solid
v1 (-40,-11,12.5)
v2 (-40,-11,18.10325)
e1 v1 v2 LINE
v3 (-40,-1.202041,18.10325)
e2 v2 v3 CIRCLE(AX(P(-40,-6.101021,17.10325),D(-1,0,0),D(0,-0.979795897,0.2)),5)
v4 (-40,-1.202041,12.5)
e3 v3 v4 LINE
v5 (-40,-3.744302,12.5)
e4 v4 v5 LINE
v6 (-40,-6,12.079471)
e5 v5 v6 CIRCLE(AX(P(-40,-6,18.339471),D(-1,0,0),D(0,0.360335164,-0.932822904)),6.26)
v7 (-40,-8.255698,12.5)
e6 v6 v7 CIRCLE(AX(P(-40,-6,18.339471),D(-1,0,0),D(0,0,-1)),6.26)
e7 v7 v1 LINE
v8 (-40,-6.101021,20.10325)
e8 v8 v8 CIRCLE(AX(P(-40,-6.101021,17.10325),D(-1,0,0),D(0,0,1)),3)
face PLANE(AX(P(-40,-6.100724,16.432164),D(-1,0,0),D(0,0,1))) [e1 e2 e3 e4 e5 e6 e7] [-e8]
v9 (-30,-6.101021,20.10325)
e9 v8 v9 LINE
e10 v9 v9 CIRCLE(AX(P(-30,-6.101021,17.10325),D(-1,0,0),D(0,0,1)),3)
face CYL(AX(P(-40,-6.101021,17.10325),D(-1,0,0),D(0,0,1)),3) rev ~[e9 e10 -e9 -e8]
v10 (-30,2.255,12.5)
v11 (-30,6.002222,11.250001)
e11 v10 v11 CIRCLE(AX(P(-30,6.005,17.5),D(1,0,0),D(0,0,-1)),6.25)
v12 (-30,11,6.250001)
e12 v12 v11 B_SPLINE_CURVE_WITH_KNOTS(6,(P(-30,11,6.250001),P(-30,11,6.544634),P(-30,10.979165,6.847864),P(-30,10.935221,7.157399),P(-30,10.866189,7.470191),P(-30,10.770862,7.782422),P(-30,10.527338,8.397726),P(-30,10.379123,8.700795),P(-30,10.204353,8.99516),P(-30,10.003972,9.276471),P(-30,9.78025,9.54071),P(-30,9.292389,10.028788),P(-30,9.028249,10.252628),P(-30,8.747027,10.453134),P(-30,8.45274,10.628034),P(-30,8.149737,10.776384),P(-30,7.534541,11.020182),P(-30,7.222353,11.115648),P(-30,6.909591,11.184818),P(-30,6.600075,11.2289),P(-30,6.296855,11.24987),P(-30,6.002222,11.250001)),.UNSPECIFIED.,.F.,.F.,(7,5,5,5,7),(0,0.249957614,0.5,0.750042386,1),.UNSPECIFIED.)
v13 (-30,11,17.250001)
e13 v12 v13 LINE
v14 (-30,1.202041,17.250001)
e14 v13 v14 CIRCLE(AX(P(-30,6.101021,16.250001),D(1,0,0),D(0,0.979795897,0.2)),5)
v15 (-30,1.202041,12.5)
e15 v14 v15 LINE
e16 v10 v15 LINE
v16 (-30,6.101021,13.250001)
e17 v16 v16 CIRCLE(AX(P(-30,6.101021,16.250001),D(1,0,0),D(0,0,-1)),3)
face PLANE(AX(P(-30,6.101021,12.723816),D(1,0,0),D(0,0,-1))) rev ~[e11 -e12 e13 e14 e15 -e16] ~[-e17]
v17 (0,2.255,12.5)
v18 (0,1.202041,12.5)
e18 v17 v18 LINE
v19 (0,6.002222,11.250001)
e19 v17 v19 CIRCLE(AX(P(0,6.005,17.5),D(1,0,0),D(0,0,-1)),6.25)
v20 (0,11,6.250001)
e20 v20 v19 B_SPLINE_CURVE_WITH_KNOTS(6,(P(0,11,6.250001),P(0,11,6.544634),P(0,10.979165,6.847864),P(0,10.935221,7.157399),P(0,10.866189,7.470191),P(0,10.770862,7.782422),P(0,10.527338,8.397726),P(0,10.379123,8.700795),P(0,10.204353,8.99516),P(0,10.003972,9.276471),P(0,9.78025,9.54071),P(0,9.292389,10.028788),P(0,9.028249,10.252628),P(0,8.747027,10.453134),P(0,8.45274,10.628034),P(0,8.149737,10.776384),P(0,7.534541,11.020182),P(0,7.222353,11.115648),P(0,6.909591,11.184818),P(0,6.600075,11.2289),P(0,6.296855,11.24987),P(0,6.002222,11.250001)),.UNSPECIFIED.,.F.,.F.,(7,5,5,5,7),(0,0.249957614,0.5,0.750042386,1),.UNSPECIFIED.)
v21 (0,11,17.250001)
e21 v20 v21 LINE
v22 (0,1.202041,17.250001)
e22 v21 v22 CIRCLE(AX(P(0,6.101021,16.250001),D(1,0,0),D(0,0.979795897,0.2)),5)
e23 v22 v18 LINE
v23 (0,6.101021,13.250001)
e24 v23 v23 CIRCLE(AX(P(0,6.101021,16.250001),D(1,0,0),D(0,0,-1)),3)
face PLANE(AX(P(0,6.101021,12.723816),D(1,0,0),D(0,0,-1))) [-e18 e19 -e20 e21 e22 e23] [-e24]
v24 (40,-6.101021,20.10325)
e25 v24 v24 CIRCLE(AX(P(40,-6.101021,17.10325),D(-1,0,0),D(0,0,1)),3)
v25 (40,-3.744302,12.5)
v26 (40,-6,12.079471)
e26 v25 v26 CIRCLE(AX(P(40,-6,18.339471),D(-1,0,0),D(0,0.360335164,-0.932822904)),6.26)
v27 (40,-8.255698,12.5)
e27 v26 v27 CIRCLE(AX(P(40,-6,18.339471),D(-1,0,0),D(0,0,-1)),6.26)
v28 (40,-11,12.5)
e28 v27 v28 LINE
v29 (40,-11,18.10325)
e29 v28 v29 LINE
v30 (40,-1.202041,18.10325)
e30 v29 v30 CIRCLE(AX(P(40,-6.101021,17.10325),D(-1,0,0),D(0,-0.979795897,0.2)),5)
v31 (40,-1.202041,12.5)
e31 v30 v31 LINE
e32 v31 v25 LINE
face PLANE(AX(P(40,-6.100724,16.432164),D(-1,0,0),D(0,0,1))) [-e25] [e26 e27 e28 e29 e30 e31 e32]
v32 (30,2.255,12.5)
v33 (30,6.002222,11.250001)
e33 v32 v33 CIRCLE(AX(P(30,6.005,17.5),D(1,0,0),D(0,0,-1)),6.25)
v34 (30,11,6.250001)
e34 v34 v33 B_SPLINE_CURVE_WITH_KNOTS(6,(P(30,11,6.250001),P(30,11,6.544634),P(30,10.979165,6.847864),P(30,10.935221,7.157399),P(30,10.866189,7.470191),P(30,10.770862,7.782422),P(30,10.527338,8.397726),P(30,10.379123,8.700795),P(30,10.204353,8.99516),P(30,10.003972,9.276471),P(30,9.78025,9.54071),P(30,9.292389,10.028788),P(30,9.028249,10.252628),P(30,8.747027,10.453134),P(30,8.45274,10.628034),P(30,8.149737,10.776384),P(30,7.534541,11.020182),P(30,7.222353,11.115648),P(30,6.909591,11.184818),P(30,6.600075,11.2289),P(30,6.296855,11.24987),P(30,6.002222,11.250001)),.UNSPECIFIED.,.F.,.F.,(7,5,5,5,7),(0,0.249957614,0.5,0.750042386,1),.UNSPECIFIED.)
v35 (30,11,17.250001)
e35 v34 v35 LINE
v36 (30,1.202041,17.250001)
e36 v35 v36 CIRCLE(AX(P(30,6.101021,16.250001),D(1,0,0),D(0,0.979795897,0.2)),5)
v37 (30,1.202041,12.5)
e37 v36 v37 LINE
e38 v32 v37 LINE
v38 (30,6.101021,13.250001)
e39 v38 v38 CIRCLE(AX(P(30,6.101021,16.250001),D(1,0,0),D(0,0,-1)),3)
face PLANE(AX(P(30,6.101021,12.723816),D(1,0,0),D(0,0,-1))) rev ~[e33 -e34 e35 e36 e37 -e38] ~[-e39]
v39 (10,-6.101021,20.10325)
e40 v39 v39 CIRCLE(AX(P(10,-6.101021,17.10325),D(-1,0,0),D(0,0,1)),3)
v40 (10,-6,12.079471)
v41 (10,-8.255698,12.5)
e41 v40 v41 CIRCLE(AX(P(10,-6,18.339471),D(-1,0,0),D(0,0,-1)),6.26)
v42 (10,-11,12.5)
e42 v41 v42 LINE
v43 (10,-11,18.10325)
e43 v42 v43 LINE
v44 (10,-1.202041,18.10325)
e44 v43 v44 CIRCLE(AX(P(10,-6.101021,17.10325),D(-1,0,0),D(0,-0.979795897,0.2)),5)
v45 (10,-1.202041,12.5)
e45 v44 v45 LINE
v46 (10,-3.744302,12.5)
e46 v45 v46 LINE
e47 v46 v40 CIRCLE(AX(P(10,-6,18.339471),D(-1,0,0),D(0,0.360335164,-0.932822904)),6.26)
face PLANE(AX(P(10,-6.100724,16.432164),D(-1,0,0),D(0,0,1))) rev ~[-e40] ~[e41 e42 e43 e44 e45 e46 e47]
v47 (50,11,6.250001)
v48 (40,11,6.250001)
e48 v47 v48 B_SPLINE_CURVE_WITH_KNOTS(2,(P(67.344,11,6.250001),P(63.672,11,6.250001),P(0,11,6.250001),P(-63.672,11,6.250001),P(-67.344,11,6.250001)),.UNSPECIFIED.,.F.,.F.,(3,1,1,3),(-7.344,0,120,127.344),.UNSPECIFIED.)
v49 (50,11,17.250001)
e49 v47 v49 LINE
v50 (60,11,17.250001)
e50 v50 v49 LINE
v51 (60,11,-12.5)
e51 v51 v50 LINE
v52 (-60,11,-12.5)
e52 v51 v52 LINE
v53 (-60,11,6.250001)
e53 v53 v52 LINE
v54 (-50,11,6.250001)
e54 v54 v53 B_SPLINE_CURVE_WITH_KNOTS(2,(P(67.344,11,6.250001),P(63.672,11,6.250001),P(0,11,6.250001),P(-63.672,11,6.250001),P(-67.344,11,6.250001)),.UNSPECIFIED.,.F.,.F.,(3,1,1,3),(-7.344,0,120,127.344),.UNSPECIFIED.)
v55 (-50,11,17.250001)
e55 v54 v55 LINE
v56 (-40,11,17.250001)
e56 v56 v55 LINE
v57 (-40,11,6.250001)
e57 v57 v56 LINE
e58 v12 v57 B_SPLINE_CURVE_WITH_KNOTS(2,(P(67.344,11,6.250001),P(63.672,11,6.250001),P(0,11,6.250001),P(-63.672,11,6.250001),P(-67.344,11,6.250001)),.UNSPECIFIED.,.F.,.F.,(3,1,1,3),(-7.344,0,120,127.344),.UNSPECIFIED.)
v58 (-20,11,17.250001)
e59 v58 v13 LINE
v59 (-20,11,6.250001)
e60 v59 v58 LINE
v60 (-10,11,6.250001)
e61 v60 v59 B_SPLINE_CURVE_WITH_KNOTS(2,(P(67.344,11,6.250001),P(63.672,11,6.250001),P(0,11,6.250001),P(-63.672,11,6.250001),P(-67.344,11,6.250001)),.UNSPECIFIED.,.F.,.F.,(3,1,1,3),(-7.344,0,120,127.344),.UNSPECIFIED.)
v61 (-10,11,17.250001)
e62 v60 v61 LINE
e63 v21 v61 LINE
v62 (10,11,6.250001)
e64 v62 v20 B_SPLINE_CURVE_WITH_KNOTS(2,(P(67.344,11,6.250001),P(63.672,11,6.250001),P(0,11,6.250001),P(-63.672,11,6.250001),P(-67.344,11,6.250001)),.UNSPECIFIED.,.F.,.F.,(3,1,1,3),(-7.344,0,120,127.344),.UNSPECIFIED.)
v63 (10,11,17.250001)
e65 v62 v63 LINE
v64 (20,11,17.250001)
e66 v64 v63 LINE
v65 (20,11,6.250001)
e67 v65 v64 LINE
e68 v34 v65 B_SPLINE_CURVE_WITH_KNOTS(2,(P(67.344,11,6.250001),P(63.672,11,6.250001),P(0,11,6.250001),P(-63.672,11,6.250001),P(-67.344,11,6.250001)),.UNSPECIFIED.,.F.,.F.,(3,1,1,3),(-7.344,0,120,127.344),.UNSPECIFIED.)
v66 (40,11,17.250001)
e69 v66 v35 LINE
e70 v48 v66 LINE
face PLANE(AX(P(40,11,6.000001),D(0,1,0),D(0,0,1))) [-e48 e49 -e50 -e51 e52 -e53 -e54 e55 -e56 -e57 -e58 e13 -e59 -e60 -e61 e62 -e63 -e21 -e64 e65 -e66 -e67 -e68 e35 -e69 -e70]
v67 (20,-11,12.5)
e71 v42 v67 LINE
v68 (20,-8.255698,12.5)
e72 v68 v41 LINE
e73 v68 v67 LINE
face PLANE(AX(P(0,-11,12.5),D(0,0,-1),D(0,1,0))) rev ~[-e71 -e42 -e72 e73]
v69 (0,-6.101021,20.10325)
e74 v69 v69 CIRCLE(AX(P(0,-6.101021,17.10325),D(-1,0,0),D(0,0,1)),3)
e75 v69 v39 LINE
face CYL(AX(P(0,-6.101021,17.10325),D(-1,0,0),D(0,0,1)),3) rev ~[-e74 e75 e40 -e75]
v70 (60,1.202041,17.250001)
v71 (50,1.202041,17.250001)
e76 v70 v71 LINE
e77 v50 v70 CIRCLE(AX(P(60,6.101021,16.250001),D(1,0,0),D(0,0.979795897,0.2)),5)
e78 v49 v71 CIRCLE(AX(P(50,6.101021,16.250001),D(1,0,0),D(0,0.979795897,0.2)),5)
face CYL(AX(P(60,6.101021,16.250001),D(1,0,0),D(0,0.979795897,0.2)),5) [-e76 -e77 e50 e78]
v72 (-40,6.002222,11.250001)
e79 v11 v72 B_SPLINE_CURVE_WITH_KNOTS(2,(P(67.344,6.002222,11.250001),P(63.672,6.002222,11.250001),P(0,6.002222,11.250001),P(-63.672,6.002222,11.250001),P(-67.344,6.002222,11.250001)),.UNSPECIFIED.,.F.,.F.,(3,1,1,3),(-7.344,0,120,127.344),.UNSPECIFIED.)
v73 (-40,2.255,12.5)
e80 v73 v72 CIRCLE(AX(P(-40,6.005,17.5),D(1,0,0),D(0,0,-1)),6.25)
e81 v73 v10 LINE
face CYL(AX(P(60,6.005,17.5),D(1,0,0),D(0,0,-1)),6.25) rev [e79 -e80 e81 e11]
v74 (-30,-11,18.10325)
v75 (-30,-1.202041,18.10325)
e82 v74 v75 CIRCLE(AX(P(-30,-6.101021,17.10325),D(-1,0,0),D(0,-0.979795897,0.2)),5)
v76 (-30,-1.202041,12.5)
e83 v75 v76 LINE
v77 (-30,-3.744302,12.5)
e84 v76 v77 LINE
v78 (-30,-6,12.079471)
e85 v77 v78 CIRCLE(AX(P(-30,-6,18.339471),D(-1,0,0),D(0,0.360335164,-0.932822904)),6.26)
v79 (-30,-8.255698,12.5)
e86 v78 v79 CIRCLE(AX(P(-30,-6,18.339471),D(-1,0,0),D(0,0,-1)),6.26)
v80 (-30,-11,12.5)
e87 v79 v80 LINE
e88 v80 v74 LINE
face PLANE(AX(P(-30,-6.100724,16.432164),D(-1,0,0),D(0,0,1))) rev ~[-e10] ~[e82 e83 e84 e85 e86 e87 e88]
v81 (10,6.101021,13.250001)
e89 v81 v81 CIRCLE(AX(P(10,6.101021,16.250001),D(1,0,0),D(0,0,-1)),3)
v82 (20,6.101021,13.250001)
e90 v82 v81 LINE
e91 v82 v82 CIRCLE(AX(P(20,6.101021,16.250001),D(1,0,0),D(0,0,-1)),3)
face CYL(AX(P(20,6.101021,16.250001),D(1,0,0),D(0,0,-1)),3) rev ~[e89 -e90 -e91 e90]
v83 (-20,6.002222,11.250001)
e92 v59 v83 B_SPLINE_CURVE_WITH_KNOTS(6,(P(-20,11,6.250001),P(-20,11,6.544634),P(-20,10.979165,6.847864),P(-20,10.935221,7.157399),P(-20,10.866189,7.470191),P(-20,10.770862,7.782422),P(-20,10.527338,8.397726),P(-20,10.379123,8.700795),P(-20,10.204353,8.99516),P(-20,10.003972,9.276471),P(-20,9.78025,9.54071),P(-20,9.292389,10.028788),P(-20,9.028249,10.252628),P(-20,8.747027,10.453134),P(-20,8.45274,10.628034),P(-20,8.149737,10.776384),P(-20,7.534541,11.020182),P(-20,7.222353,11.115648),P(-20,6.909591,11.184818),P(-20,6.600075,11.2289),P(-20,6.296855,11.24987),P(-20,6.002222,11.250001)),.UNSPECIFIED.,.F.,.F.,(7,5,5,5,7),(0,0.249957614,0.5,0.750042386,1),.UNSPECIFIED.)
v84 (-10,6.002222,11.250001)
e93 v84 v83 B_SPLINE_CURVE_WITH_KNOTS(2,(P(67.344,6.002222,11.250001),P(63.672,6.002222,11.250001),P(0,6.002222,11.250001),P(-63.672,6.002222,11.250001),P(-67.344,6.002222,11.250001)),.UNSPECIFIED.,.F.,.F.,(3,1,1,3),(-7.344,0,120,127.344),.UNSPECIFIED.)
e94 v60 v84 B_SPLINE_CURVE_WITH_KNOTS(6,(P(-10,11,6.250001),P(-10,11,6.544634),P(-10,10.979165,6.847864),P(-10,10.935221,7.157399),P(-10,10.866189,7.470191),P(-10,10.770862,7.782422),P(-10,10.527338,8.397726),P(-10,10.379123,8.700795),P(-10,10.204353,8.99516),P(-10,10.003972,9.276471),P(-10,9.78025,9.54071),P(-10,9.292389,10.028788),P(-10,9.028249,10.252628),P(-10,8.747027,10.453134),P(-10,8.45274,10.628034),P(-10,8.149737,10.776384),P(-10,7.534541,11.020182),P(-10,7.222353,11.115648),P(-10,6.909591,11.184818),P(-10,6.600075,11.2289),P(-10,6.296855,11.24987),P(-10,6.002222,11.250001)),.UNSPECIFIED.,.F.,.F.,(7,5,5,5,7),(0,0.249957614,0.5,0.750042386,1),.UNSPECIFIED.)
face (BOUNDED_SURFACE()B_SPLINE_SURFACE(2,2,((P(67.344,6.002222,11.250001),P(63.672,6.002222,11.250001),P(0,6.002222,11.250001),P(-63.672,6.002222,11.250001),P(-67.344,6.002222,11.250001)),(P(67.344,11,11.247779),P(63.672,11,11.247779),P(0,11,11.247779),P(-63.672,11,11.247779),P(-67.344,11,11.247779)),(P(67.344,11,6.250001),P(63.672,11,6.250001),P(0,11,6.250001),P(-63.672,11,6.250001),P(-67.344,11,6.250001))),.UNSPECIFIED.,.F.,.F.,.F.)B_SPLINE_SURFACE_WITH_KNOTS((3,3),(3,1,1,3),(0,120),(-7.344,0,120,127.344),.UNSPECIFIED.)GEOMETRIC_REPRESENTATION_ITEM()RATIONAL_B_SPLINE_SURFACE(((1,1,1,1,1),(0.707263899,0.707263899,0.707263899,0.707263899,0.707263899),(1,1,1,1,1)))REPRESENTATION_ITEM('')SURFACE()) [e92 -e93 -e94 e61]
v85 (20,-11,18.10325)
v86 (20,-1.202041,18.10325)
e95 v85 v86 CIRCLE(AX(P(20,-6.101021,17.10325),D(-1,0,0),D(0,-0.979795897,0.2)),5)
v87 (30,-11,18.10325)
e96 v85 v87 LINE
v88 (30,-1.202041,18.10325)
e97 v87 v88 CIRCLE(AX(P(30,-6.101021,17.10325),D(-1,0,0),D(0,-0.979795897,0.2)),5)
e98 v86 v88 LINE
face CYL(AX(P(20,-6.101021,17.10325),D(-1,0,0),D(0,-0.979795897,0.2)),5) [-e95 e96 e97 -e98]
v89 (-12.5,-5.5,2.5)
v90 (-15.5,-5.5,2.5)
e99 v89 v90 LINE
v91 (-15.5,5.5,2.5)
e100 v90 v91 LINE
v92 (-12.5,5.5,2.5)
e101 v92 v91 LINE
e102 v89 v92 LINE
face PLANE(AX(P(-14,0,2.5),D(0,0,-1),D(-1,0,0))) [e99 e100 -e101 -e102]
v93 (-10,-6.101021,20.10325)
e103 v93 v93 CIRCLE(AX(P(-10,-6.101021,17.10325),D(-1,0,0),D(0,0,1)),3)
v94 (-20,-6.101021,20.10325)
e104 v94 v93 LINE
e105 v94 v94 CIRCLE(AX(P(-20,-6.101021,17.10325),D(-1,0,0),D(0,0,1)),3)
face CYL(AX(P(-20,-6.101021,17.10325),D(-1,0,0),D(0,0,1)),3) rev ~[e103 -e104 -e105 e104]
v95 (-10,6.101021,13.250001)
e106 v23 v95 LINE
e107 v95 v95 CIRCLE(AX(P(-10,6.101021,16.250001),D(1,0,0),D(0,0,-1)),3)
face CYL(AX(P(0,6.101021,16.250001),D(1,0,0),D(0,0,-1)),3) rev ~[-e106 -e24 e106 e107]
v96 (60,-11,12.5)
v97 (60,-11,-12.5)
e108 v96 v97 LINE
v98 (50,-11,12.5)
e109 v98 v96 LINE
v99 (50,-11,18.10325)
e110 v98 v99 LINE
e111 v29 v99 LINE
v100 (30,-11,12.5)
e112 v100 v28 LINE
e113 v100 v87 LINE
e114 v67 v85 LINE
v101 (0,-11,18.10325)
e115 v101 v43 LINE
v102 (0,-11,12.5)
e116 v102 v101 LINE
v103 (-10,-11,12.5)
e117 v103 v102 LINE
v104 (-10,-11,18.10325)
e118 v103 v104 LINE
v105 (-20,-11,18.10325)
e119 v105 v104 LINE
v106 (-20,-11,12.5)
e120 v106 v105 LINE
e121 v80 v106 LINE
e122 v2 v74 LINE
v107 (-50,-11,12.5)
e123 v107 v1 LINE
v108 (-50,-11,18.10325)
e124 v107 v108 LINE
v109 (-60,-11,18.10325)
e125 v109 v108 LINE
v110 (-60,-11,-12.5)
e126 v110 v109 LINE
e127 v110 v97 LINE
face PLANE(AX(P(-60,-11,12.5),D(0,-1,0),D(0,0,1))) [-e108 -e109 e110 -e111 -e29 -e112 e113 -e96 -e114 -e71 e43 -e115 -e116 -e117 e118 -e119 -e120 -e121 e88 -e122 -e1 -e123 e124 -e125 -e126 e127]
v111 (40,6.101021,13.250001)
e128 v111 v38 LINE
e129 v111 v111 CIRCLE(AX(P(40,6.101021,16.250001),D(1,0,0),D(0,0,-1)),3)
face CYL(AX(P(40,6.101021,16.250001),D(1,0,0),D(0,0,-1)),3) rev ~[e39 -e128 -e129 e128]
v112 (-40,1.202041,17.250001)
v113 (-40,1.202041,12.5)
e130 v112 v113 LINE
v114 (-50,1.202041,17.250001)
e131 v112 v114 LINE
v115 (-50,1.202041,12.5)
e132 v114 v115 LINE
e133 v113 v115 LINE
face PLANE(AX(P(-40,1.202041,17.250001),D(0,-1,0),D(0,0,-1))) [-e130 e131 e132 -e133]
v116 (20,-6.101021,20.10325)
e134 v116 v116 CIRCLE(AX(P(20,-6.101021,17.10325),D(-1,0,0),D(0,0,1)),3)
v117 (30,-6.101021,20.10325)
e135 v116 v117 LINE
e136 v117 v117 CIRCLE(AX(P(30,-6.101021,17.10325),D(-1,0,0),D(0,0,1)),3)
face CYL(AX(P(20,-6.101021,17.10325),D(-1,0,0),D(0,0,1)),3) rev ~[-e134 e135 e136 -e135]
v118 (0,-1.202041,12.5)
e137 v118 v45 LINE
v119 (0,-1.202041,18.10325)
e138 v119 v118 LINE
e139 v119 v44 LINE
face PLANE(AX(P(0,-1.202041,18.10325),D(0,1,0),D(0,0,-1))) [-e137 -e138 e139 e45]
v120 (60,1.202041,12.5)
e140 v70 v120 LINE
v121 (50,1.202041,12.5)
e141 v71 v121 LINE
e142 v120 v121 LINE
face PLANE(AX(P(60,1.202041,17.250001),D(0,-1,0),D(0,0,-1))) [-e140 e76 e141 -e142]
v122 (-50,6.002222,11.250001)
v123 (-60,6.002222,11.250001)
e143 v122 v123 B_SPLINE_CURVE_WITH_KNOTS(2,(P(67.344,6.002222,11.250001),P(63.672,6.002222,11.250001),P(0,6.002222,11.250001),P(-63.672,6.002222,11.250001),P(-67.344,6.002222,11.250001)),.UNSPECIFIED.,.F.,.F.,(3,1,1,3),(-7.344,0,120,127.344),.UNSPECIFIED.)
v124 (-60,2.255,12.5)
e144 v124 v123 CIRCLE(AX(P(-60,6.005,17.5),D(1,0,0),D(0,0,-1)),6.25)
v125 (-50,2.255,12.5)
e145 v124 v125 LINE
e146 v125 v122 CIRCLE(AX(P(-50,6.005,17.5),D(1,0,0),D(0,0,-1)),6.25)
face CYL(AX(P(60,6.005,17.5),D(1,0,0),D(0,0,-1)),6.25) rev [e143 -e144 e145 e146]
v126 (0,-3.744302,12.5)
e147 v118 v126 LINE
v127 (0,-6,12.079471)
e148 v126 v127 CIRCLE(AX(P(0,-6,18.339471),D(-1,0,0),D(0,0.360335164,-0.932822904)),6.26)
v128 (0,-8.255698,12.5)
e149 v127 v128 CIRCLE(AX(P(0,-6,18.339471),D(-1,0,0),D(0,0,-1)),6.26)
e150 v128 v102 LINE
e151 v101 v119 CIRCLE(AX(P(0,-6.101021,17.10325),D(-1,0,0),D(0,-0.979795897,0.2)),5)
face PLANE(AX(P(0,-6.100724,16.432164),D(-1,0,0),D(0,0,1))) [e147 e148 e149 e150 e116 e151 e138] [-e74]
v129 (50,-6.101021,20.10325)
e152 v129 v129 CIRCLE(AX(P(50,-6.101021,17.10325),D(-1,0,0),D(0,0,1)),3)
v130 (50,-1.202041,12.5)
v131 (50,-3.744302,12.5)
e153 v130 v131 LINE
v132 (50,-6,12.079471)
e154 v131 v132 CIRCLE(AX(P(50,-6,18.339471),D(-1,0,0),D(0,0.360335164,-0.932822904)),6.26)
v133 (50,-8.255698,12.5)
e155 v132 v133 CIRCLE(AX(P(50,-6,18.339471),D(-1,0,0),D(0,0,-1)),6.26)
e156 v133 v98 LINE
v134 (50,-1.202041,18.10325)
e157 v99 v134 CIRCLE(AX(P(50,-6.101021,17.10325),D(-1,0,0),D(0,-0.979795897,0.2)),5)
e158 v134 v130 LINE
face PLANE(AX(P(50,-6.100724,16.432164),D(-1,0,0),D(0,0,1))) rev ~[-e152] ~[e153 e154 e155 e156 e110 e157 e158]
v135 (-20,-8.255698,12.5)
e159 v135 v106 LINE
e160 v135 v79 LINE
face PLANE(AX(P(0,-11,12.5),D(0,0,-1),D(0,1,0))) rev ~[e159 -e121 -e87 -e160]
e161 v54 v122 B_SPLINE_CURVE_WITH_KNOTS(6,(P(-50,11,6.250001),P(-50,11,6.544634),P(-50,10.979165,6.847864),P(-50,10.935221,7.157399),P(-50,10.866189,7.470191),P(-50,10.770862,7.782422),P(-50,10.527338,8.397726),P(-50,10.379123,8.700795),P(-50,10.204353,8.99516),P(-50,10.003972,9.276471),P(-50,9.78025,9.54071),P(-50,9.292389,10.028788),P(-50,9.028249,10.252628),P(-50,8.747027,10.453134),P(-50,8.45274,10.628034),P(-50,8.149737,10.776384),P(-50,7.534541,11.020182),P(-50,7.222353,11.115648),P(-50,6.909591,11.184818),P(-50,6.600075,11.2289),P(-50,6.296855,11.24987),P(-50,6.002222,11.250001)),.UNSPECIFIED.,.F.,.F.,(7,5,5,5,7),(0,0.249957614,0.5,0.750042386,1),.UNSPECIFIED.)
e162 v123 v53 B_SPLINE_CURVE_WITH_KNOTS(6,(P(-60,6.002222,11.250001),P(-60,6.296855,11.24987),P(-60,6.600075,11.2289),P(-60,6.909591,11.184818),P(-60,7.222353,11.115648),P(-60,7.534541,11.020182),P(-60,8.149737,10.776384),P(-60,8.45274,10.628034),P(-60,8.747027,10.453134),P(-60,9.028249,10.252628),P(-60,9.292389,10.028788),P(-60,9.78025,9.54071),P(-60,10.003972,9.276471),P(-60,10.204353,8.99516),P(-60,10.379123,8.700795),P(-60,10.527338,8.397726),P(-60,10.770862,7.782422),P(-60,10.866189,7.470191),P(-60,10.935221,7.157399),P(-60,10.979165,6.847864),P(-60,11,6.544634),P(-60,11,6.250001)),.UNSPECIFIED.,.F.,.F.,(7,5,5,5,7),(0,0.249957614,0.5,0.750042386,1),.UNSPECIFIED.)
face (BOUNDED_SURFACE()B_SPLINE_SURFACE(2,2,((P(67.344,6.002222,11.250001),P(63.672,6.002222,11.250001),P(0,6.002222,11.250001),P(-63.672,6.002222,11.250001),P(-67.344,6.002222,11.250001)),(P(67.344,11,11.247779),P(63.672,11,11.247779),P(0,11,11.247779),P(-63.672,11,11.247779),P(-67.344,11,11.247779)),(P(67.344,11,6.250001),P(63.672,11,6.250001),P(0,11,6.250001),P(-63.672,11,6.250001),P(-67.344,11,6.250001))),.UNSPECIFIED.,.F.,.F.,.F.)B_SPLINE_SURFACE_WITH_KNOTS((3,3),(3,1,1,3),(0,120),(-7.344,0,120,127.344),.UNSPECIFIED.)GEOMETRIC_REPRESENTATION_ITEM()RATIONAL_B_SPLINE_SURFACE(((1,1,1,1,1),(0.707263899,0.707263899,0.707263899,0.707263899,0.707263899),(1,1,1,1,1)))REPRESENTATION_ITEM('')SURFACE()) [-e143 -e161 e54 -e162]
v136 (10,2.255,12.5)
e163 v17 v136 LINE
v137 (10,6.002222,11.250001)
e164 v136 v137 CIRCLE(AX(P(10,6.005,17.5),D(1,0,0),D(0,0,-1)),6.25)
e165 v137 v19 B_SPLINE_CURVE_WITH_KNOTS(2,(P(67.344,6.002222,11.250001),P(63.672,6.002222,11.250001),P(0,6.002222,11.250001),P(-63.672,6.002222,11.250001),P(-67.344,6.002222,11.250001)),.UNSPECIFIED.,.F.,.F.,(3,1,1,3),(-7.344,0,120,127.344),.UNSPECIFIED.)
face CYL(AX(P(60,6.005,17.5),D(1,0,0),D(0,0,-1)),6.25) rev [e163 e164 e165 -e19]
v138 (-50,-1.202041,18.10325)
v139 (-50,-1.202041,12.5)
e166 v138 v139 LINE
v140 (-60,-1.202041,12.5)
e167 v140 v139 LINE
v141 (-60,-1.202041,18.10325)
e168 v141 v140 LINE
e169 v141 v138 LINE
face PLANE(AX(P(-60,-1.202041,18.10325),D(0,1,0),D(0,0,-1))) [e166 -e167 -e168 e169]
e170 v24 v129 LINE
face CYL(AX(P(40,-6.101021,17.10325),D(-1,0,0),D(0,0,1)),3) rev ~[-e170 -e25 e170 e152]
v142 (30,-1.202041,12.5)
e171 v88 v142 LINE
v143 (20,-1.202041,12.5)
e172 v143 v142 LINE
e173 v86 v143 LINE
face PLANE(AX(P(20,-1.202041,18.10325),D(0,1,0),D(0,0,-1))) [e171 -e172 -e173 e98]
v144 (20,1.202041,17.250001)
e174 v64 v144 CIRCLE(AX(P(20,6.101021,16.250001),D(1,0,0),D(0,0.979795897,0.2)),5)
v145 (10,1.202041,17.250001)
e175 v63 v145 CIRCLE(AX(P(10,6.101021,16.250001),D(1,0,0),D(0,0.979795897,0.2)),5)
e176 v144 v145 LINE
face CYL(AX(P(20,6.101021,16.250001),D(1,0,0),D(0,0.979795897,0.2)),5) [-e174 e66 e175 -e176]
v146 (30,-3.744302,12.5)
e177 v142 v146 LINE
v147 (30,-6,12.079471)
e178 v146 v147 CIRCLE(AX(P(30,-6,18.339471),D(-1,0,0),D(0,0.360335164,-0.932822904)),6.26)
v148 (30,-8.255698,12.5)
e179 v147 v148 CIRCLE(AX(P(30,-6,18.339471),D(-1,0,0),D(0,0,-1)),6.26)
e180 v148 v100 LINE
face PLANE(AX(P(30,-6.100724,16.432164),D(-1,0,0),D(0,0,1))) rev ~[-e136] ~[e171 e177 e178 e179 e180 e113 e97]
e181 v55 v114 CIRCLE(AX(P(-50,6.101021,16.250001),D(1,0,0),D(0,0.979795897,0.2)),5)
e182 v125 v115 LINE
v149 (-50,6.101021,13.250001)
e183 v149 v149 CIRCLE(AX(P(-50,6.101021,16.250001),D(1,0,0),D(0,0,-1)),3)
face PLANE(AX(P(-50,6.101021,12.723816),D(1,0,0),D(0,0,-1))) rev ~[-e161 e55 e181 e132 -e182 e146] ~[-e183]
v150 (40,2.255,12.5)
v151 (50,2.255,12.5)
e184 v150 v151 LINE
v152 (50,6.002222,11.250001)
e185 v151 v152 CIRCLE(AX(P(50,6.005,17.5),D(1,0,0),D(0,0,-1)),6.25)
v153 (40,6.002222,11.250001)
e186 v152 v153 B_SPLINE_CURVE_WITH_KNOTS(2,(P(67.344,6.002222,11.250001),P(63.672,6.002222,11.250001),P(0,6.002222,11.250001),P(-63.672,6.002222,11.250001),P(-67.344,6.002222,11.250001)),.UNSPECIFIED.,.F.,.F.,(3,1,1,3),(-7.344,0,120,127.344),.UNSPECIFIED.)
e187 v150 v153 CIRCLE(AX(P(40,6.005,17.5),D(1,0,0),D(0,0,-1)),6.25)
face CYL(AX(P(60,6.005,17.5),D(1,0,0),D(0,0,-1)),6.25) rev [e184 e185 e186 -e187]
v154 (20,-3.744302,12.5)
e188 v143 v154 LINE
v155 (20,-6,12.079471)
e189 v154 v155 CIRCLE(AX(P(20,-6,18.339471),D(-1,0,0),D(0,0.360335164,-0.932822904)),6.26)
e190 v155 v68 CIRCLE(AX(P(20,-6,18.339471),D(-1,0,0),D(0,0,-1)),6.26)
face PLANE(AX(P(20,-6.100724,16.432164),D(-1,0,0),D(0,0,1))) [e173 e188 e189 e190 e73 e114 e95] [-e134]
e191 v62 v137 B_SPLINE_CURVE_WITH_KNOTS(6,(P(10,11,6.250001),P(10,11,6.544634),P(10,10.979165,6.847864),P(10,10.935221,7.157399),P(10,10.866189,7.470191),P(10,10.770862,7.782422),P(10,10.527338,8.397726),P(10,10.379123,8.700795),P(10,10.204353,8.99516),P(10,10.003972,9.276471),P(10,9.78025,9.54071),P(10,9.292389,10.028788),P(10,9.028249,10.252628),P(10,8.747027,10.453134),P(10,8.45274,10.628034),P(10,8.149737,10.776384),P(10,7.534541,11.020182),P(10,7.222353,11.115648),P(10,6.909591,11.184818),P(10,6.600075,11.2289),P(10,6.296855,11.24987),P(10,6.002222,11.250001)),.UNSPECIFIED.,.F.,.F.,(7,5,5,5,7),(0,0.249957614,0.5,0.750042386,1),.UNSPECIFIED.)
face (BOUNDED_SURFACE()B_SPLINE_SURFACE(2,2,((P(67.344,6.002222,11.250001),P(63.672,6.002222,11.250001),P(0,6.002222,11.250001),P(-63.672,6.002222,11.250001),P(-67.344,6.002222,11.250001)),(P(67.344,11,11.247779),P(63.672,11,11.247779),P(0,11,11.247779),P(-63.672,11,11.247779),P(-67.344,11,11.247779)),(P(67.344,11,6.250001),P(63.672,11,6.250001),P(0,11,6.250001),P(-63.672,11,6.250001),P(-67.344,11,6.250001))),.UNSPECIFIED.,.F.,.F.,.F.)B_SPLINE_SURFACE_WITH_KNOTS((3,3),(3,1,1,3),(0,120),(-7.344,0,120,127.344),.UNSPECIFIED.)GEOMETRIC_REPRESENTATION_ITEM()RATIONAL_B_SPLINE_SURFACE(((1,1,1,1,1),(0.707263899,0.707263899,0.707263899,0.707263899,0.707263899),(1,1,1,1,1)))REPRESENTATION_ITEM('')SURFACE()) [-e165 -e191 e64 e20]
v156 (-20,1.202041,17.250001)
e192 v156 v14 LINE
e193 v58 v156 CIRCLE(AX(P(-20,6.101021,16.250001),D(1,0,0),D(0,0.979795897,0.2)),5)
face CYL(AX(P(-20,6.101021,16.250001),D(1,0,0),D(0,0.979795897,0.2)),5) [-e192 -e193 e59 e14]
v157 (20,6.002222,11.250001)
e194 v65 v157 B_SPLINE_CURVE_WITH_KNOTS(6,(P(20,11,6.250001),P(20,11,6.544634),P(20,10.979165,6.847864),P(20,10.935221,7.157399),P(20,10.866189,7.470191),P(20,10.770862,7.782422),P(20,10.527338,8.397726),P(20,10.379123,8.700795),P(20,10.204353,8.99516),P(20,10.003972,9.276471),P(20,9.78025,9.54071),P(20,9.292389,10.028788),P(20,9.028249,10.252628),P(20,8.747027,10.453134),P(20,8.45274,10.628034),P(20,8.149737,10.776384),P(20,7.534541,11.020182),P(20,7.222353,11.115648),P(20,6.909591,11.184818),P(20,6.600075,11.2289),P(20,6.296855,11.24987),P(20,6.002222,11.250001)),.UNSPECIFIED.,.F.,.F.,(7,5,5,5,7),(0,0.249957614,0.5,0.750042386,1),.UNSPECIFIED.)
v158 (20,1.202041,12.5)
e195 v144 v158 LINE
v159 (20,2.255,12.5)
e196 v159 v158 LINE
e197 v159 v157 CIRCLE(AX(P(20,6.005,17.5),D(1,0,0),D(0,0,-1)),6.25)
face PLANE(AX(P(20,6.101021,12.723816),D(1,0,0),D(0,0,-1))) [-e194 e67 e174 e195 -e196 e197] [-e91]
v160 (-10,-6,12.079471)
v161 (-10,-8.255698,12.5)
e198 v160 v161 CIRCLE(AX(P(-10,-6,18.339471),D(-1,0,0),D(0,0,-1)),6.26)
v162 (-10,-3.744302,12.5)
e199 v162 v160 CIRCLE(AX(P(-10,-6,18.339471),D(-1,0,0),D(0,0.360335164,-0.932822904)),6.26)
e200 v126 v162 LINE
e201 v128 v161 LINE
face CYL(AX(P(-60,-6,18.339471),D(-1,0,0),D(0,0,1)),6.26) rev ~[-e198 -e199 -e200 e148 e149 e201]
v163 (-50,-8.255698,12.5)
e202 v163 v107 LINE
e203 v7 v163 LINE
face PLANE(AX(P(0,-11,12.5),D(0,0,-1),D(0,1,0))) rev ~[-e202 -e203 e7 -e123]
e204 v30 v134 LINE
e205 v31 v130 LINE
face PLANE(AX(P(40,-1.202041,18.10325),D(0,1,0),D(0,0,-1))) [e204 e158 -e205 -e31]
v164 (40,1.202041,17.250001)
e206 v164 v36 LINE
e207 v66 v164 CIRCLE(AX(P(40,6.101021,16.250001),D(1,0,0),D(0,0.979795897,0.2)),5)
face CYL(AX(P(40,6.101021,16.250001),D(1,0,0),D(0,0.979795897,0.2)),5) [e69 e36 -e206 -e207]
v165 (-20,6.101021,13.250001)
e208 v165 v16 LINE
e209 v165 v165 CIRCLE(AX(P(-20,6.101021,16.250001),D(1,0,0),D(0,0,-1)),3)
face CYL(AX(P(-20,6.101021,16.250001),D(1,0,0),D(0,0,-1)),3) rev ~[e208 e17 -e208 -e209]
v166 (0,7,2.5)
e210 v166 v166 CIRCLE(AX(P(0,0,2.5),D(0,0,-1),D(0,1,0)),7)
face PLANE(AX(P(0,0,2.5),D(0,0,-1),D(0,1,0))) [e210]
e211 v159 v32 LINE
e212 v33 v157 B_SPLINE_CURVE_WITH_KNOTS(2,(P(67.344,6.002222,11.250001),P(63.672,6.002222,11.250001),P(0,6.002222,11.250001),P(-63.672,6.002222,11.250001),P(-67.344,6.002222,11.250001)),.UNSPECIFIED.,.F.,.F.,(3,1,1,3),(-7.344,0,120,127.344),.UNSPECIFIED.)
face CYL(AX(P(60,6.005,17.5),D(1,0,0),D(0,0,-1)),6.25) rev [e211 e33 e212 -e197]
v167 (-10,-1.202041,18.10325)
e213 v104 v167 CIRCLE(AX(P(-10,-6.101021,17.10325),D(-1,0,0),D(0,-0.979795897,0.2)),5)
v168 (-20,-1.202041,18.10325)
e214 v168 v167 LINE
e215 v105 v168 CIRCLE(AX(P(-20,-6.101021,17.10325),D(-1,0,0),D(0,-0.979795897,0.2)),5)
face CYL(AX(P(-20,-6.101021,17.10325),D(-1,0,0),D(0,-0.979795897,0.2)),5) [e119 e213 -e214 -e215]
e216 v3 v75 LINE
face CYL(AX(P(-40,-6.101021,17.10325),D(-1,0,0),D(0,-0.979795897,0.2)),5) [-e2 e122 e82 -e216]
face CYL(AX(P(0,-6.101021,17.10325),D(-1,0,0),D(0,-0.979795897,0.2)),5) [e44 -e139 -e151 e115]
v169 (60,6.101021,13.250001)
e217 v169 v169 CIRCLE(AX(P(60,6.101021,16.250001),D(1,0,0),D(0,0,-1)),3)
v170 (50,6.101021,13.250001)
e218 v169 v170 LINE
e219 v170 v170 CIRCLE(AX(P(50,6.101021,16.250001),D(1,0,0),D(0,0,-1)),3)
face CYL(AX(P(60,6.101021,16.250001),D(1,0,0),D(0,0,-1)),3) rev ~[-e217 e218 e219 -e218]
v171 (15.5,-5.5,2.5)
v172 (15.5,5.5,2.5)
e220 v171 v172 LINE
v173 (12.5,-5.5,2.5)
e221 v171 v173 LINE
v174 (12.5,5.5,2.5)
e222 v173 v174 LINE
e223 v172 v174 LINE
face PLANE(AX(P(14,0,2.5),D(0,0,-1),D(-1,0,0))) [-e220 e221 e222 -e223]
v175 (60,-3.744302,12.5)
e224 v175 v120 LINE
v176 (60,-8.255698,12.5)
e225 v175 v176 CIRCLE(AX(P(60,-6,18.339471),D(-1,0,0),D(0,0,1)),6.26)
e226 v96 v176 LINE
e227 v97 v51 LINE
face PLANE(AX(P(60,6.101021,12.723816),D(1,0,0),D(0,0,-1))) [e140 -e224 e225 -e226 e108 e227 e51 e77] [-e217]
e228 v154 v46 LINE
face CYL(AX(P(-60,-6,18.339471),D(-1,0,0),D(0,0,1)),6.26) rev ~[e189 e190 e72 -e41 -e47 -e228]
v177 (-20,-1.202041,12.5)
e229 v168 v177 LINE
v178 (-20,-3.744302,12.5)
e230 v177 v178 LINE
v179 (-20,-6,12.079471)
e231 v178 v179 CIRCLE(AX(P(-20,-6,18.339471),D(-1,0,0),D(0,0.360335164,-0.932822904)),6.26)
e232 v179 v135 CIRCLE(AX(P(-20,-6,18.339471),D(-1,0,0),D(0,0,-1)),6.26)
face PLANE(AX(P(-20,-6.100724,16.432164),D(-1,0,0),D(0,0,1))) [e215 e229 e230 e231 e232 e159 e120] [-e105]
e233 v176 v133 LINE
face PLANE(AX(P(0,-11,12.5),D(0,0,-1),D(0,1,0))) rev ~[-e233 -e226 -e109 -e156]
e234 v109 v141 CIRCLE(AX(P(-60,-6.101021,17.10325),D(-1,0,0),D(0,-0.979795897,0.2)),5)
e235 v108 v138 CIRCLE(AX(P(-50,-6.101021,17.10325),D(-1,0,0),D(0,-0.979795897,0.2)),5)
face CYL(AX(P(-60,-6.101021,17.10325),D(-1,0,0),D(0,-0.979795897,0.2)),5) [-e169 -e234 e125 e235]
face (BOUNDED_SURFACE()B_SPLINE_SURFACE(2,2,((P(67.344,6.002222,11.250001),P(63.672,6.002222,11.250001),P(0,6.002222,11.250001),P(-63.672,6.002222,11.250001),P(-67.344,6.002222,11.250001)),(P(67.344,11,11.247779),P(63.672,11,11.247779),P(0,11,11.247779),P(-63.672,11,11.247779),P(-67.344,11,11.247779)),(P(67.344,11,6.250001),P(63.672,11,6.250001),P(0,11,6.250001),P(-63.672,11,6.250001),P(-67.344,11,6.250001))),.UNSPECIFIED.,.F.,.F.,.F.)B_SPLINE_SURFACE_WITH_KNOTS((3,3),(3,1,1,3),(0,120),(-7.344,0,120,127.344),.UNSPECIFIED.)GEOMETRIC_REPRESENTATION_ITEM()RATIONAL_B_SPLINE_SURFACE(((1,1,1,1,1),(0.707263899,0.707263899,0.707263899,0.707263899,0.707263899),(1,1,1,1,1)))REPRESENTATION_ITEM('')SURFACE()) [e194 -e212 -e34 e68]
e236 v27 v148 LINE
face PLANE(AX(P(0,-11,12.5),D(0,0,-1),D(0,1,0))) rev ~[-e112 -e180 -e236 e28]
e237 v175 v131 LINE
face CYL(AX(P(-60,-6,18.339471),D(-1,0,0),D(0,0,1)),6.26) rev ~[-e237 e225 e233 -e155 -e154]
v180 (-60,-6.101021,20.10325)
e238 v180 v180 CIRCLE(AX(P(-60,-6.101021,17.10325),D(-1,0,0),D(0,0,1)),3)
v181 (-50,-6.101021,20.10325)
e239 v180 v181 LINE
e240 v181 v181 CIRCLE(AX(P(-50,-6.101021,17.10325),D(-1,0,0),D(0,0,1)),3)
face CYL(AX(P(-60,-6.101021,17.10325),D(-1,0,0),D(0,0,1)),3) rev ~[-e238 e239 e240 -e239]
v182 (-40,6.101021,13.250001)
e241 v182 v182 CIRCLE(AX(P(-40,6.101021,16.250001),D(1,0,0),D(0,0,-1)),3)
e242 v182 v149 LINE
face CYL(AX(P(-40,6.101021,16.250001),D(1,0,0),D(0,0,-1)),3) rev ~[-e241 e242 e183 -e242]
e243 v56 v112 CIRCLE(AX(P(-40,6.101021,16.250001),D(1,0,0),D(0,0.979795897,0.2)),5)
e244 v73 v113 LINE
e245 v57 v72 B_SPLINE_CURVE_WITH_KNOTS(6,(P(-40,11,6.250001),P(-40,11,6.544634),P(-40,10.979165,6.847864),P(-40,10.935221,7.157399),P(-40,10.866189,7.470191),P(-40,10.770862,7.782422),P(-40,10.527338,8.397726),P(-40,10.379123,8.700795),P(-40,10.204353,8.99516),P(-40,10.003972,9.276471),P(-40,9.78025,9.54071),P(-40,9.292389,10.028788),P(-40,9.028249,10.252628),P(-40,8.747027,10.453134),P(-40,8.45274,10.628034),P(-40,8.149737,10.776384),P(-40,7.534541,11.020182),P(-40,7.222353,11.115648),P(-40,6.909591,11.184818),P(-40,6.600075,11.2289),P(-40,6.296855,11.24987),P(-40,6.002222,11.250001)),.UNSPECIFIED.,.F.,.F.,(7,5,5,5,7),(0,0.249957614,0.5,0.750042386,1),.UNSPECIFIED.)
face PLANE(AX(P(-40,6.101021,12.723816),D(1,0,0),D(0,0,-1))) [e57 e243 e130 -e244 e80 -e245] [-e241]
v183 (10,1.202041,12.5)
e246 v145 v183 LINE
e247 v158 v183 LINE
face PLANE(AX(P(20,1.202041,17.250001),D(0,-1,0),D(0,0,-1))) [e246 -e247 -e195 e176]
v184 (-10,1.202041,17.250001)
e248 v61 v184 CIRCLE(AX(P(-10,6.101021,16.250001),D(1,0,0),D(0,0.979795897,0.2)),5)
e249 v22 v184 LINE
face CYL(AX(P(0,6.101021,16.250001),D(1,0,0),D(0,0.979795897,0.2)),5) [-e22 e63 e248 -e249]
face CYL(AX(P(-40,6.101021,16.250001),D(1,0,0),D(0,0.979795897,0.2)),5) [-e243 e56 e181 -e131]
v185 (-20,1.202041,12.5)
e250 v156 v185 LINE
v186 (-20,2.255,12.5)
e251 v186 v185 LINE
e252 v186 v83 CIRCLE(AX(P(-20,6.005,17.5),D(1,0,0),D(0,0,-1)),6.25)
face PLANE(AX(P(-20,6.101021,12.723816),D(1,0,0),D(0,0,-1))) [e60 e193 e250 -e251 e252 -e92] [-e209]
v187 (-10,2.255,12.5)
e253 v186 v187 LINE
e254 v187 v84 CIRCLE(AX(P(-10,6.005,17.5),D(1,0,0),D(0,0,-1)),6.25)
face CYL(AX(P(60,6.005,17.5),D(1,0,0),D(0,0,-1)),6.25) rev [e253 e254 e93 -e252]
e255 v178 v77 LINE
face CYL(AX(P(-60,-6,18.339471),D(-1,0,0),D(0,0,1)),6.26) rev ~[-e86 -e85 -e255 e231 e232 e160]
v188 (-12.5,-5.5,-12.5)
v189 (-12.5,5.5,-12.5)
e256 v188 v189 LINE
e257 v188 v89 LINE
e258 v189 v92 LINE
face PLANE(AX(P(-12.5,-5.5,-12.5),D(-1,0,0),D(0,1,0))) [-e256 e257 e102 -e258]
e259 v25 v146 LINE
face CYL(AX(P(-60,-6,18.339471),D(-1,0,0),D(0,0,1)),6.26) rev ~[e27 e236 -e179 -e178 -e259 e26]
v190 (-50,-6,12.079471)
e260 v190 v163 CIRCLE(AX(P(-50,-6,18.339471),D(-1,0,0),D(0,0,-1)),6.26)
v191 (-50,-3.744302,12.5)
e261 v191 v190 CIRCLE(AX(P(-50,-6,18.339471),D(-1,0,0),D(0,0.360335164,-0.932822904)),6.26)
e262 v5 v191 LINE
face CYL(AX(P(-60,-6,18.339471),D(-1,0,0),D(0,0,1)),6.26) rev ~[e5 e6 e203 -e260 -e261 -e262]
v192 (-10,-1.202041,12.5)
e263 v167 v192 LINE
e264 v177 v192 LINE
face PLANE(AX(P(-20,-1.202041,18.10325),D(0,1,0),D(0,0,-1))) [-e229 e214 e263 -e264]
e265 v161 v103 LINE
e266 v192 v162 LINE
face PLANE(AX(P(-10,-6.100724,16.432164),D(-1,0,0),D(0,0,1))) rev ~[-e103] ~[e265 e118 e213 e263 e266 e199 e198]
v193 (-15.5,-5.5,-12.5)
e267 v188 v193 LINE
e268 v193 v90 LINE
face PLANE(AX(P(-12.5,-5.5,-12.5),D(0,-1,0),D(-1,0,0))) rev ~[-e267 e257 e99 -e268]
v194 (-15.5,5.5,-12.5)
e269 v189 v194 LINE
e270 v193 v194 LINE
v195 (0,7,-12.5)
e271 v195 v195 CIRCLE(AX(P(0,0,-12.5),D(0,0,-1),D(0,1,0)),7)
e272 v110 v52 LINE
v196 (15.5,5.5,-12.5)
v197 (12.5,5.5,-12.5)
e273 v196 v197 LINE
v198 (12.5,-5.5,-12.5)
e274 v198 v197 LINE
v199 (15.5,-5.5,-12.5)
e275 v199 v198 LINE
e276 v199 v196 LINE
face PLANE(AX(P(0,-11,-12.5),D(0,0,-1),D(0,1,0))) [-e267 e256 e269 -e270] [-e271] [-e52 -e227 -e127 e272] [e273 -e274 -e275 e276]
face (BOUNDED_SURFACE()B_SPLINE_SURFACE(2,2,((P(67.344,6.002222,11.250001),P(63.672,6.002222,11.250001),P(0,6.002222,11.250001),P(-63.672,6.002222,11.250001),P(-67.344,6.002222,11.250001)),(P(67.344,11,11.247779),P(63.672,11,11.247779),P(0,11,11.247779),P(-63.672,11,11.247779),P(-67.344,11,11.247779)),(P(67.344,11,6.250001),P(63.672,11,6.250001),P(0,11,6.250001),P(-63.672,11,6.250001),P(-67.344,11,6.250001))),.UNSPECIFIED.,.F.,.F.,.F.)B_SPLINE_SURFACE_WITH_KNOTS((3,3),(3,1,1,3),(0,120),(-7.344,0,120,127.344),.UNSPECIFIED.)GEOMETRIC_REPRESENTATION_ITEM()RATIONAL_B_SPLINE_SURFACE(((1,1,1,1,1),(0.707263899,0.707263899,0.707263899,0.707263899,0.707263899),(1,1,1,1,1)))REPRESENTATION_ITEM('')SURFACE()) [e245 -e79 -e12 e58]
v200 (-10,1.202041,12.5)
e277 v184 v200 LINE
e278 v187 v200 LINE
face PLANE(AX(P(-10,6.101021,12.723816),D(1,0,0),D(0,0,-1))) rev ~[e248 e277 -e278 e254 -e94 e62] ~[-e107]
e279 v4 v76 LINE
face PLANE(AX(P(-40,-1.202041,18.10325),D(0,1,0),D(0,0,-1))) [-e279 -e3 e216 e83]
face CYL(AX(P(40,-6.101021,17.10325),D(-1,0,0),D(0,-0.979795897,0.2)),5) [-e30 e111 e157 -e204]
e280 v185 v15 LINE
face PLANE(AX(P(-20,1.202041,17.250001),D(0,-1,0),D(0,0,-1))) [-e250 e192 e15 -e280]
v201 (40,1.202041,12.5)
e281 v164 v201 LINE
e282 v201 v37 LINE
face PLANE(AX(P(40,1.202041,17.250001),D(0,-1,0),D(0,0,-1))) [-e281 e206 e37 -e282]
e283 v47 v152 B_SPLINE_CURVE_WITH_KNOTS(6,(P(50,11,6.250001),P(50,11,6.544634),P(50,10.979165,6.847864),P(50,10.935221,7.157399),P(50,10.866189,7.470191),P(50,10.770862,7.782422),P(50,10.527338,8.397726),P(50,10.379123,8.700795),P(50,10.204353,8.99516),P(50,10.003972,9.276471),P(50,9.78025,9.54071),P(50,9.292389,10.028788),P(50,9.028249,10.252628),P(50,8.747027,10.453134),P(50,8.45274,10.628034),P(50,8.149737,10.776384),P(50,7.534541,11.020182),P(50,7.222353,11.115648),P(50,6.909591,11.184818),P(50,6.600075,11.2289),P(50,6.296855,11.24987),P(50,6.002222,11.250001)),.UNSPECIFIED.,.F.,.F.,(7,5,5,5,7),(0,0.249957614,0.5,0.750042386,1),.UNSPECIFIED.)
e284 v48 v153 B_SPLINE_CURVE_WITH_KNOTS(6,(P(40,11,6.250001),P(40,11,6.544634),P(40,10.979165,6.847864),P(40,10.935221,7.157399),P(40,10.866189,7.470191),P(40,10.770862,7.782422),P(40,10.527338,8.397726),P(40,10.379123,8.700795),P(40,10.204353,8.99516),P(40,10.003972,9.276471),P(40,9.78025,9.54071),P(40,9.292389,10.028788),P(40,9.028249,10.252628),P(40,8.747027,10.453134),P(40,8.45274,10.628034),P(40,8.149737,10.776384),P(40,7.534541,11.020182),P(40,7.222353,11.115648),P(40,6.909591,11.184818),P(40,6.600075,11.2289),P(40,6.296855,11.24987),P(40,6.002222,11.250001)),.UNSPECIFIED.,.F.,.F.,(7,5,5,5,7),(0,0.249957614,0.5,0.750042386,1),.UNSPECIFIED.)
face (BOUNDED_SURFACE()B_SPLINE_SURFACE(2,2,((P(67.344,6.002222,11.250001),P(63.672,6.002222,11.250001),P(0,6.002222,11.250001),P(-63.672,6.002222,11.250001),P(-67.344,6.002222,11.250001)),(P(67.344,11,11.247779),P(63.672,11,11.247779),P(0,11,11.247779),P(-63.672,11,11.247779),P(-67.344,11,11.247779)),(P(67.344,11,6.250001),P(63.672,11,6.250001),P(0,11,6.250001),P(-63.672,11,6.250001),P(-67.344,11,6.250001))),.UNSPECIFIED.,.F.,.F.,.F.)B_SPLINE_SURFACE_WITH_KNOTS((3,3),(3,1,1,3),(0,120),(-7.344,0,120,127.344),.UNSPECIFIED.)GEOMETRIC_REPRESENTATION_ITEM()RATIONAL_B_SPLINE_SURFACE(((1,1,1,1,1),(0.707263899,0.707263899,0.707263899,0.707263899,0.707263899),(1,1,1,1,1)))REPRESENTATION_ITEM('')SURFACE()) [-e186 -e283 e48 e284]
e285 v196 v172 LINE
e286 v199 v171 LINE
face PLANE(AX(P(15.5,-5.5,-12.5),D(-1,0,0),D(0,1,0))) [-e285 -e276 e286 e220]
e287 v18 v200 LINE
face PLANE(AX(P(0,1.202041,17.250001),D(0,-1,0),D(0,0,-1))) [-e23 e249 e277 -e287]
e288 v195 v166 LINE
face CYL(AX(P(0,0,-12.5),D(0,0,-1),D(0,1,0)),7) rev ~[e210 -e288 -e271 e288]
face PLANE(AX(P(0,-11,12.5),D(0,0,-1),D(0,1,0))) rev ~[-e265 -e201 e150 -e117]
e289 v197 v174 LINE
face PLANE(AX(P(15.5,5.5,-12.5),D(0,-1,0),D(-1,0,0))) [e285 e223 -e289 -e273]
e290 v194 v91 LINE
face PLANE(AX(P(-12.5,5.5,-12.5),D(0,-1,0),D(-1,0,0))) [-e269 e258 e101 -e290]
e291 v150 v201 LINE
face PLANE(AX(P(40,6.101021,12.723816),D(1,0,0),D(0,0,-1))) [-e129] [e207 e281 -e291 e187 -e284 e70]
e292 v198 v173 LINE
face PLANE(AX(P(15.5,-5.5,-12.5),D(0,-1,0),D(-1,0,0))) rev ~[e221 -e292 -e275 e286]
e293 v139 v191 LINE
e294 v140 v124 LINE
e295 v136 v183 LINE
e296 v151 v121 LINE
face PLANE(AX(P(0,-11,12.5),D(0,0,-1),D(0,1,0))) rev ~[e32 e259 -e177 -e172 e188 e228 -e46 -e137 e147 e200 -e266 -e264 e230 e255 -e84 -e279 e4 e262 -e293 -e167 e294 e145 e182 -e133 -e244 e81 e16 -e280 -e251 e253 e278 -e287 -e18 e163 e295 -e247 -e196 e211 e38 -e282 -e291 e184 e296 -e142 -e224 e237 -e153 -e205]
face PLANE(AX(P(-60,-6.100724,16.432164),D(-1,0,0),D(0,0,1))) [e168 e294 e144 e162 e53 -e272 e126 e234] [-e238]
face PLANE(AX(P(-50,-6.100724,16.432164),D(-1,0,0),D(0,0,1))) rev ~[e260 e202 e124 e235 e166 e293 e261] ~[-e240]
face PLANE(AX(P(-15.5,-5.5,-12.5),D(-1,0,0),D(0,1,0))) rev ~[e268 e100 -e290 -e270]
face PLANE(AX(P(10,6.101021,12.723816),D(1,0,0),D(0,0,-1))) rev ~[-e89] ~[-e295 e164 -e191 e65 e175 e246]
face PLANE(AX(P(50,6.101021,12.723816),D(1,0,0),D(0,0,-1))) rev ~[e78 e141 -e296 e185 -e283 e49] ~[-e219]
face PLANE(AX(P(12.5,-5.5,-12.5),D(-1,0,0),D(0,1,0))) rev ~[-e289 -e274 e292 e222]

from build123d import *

# Parameters (mm, degrees)
SKETCH1_W           = 25
SKETCH1_H           = 22
BOSS_EXTRUDE1_DEPTH = 60
CUT_EXTRUDE2_REACH  = 123.15
CUT_EXTRUDE3_REACH  = 123.15
SKETCH6_R           = 6.26
FILLET1_R           = 5
SKETCH2_R           = 3
BOSS_EXTRUDE2_DEPTH = 10
LPATTERN1_COUNT     = 6
LPATTERN1_PITCH     = 20
SKETCH3_R           = 3
BOSS_EXTRUDE3_DEPTH = 10
LPATTERN2_COUNT     = 6
LPATTERN2_PITCH     = 20
SKETCH9_R           = 7
SKETCH9_W           = 3
SKETCH9_H           = 11
CUT_EXTRUDE5_DEPTH  = 15


with BuildPart() as part:
    # Sketch1 → Boss-Extrude1 (new, symmetric)
    with BuildSketch(Plane(origin=(0, 0, 0), x_dir=(0, 0, -1), z_dir=(1, 0, 0))):
        Rectangle(SKETCH1_W, SKETCH1_H)
    extrude(amount=BOSS_EXTRUDE1_DEPTH, both=True)

    # Sketch5 → Cut-Extrude2 (cut, up to next)
    with BuildSketch(Plane(origin=(60, 0, 0), x_dir=(0, 0, -1), z_dir=(1, 0, 0)), mode=Mode.PRIVATE) as cut_extrude2_sk1:
        with BuildLine():
            Line((-13.743342576, 11), (-11.25, 11))
            Line((-11.25, 11), (-11.25, 6.005))
            ThreePointArc((-11.25, 6.005), (-23.092030441, 3.213639122), (-13.743342576, 11))
        make_face()
    cut_extrude2_tool1 = extrude(cut_extrude2_sk1.sketch, amount=-CUT_EXTRUDE2_REACH, mode=Mode.PRIVATE) & part.part
    add(cut_extrude2_tool1.solids().sort_by_distance((60, 6.117758, 17.335764))[0], mode=Mode.SUBTRACT)

    # Sketch6 → Cut-Extrude3 (cut, up to next)
    with BuildSketch(Plane.ZY.offset(60), mode=Mode.PRIVATE) as cut_extrude3_sk1:
        with Locations((18.339471377, -6)):
            Circle(SKETCH6_R)
    cut_extrude3_tool1 = extrude(cut_extrude3_sk1.sketch, amount=-CUT_EXTRUDE3_REACH, mode=Mode.PRIVATE) & part.part
    add(cut_extrude3_tool1.solids().sort_by_distance((-60, -6, 18.339471))[0], mode=Mode.SUBTRACT)

    # Fillet1
    fillet1_edges = [part.edges().sort_by_distance(p)[0] for p in [
        (0, 11, 11.25),
    ]]
    fillet(fillet1_edges, radius=FILLET1_R)

    # Sketch2 → Boss-Extrude2 (add)
    with BuildSketch(Plane(origin=(60, 0, 0), x_dir=(0, 0, -1), z_dir=(1, 0, 0))):
        with BuildLine():
            Line((-17.250000617, 1.202041029), (-6.000000617, 1.202041029))
            Line((-6.000000617, 1.202041029), (-6.000000617, 11))
            Line((-6.000000617, 11), (-17.250000617, 11))
            ThreePointArc((-17.250000617, 11), (-21.250000617, 6.101020514), (-17.250000617, 1.202041029))
        make_face()
        with Locations((-16.250000617, 6.101020514)):
            Circle(SKETCH2_R, mode=Mode.SUBTRACT)
    boss_extrude2 = extrude(amount=-BOSS_EXTRUDE2_DEPTH)

    # LPattern1: Boss-Extrude2 ×6
    with Locations(*[(-i * LPATTERN1_PITCH, 0, 0) for i in range(1, LPATTERN1_COUNT)]):
        add(boss_extrude2)

    # Sketch3 → Boss-Extrude3 (add)
    with BuildSketch(Plane.ZY.offset(60)):
        with BuildLine():
            Line((18.103250446, -1.202041029), (12.5, -1.202041029))
            Line((12.5, -1.202041029), (12.5, -3.744301875))
            ThreePointArc((12.5, -3.744301875), (12.185501487, -4.85271861), (12.079471377, -6))
            ThreePointArc((12.079471377, -6), (12.185501487, -7.14728139), (12.5, -8.255698125))
            Line((12.5, -8.255698125), (12.5, -11))
            Line((12.5, -11), (18.103250446, -11))
            ThreePointArc((18.103250446, -11), (22.103250446, -6.101020514), (18.103250446, -1.202041029))
        make_face()
        with Locations((17.103250446, -6.101020514)):
            Circle(SKETCH3_R, mode=Mode.SUBTRACT)
    boss_extrude3 = extrude(amount=-BOSS_EXTRUDE3_DEPTH)

    # LPattern2: Boss-Extrude3 ×6
    with Locations(*[(i * LPATTERN2_PITCH, 0, 0) for i in range(1, LPATTERN2_COUNT)]):
        add(boss_extrude3)

    # Sketch9 → Cut-Extrude5 (cut)
    with BuildSketch(Plane(origin=(0, 0, -12.5), x_dir=(-1, 0, 0), z_dir=(0, 0, -1))):
        with Locations(Location((0, 0, 0), (0, 0, 90))):
            Circle(SKETCH9_R)
        with Locations((-14, 0)):
            Rectangle(SKETCH9_W, SKETCH9_H)
        with Locations((14, 0)):
            Rectangle(SKETCH9_W, SKETCH9_H)
    extrude(amount=-CUT_EXTRUDE5_DEPTH, mode=Mode.SUBTRACT)


solid = part.part
